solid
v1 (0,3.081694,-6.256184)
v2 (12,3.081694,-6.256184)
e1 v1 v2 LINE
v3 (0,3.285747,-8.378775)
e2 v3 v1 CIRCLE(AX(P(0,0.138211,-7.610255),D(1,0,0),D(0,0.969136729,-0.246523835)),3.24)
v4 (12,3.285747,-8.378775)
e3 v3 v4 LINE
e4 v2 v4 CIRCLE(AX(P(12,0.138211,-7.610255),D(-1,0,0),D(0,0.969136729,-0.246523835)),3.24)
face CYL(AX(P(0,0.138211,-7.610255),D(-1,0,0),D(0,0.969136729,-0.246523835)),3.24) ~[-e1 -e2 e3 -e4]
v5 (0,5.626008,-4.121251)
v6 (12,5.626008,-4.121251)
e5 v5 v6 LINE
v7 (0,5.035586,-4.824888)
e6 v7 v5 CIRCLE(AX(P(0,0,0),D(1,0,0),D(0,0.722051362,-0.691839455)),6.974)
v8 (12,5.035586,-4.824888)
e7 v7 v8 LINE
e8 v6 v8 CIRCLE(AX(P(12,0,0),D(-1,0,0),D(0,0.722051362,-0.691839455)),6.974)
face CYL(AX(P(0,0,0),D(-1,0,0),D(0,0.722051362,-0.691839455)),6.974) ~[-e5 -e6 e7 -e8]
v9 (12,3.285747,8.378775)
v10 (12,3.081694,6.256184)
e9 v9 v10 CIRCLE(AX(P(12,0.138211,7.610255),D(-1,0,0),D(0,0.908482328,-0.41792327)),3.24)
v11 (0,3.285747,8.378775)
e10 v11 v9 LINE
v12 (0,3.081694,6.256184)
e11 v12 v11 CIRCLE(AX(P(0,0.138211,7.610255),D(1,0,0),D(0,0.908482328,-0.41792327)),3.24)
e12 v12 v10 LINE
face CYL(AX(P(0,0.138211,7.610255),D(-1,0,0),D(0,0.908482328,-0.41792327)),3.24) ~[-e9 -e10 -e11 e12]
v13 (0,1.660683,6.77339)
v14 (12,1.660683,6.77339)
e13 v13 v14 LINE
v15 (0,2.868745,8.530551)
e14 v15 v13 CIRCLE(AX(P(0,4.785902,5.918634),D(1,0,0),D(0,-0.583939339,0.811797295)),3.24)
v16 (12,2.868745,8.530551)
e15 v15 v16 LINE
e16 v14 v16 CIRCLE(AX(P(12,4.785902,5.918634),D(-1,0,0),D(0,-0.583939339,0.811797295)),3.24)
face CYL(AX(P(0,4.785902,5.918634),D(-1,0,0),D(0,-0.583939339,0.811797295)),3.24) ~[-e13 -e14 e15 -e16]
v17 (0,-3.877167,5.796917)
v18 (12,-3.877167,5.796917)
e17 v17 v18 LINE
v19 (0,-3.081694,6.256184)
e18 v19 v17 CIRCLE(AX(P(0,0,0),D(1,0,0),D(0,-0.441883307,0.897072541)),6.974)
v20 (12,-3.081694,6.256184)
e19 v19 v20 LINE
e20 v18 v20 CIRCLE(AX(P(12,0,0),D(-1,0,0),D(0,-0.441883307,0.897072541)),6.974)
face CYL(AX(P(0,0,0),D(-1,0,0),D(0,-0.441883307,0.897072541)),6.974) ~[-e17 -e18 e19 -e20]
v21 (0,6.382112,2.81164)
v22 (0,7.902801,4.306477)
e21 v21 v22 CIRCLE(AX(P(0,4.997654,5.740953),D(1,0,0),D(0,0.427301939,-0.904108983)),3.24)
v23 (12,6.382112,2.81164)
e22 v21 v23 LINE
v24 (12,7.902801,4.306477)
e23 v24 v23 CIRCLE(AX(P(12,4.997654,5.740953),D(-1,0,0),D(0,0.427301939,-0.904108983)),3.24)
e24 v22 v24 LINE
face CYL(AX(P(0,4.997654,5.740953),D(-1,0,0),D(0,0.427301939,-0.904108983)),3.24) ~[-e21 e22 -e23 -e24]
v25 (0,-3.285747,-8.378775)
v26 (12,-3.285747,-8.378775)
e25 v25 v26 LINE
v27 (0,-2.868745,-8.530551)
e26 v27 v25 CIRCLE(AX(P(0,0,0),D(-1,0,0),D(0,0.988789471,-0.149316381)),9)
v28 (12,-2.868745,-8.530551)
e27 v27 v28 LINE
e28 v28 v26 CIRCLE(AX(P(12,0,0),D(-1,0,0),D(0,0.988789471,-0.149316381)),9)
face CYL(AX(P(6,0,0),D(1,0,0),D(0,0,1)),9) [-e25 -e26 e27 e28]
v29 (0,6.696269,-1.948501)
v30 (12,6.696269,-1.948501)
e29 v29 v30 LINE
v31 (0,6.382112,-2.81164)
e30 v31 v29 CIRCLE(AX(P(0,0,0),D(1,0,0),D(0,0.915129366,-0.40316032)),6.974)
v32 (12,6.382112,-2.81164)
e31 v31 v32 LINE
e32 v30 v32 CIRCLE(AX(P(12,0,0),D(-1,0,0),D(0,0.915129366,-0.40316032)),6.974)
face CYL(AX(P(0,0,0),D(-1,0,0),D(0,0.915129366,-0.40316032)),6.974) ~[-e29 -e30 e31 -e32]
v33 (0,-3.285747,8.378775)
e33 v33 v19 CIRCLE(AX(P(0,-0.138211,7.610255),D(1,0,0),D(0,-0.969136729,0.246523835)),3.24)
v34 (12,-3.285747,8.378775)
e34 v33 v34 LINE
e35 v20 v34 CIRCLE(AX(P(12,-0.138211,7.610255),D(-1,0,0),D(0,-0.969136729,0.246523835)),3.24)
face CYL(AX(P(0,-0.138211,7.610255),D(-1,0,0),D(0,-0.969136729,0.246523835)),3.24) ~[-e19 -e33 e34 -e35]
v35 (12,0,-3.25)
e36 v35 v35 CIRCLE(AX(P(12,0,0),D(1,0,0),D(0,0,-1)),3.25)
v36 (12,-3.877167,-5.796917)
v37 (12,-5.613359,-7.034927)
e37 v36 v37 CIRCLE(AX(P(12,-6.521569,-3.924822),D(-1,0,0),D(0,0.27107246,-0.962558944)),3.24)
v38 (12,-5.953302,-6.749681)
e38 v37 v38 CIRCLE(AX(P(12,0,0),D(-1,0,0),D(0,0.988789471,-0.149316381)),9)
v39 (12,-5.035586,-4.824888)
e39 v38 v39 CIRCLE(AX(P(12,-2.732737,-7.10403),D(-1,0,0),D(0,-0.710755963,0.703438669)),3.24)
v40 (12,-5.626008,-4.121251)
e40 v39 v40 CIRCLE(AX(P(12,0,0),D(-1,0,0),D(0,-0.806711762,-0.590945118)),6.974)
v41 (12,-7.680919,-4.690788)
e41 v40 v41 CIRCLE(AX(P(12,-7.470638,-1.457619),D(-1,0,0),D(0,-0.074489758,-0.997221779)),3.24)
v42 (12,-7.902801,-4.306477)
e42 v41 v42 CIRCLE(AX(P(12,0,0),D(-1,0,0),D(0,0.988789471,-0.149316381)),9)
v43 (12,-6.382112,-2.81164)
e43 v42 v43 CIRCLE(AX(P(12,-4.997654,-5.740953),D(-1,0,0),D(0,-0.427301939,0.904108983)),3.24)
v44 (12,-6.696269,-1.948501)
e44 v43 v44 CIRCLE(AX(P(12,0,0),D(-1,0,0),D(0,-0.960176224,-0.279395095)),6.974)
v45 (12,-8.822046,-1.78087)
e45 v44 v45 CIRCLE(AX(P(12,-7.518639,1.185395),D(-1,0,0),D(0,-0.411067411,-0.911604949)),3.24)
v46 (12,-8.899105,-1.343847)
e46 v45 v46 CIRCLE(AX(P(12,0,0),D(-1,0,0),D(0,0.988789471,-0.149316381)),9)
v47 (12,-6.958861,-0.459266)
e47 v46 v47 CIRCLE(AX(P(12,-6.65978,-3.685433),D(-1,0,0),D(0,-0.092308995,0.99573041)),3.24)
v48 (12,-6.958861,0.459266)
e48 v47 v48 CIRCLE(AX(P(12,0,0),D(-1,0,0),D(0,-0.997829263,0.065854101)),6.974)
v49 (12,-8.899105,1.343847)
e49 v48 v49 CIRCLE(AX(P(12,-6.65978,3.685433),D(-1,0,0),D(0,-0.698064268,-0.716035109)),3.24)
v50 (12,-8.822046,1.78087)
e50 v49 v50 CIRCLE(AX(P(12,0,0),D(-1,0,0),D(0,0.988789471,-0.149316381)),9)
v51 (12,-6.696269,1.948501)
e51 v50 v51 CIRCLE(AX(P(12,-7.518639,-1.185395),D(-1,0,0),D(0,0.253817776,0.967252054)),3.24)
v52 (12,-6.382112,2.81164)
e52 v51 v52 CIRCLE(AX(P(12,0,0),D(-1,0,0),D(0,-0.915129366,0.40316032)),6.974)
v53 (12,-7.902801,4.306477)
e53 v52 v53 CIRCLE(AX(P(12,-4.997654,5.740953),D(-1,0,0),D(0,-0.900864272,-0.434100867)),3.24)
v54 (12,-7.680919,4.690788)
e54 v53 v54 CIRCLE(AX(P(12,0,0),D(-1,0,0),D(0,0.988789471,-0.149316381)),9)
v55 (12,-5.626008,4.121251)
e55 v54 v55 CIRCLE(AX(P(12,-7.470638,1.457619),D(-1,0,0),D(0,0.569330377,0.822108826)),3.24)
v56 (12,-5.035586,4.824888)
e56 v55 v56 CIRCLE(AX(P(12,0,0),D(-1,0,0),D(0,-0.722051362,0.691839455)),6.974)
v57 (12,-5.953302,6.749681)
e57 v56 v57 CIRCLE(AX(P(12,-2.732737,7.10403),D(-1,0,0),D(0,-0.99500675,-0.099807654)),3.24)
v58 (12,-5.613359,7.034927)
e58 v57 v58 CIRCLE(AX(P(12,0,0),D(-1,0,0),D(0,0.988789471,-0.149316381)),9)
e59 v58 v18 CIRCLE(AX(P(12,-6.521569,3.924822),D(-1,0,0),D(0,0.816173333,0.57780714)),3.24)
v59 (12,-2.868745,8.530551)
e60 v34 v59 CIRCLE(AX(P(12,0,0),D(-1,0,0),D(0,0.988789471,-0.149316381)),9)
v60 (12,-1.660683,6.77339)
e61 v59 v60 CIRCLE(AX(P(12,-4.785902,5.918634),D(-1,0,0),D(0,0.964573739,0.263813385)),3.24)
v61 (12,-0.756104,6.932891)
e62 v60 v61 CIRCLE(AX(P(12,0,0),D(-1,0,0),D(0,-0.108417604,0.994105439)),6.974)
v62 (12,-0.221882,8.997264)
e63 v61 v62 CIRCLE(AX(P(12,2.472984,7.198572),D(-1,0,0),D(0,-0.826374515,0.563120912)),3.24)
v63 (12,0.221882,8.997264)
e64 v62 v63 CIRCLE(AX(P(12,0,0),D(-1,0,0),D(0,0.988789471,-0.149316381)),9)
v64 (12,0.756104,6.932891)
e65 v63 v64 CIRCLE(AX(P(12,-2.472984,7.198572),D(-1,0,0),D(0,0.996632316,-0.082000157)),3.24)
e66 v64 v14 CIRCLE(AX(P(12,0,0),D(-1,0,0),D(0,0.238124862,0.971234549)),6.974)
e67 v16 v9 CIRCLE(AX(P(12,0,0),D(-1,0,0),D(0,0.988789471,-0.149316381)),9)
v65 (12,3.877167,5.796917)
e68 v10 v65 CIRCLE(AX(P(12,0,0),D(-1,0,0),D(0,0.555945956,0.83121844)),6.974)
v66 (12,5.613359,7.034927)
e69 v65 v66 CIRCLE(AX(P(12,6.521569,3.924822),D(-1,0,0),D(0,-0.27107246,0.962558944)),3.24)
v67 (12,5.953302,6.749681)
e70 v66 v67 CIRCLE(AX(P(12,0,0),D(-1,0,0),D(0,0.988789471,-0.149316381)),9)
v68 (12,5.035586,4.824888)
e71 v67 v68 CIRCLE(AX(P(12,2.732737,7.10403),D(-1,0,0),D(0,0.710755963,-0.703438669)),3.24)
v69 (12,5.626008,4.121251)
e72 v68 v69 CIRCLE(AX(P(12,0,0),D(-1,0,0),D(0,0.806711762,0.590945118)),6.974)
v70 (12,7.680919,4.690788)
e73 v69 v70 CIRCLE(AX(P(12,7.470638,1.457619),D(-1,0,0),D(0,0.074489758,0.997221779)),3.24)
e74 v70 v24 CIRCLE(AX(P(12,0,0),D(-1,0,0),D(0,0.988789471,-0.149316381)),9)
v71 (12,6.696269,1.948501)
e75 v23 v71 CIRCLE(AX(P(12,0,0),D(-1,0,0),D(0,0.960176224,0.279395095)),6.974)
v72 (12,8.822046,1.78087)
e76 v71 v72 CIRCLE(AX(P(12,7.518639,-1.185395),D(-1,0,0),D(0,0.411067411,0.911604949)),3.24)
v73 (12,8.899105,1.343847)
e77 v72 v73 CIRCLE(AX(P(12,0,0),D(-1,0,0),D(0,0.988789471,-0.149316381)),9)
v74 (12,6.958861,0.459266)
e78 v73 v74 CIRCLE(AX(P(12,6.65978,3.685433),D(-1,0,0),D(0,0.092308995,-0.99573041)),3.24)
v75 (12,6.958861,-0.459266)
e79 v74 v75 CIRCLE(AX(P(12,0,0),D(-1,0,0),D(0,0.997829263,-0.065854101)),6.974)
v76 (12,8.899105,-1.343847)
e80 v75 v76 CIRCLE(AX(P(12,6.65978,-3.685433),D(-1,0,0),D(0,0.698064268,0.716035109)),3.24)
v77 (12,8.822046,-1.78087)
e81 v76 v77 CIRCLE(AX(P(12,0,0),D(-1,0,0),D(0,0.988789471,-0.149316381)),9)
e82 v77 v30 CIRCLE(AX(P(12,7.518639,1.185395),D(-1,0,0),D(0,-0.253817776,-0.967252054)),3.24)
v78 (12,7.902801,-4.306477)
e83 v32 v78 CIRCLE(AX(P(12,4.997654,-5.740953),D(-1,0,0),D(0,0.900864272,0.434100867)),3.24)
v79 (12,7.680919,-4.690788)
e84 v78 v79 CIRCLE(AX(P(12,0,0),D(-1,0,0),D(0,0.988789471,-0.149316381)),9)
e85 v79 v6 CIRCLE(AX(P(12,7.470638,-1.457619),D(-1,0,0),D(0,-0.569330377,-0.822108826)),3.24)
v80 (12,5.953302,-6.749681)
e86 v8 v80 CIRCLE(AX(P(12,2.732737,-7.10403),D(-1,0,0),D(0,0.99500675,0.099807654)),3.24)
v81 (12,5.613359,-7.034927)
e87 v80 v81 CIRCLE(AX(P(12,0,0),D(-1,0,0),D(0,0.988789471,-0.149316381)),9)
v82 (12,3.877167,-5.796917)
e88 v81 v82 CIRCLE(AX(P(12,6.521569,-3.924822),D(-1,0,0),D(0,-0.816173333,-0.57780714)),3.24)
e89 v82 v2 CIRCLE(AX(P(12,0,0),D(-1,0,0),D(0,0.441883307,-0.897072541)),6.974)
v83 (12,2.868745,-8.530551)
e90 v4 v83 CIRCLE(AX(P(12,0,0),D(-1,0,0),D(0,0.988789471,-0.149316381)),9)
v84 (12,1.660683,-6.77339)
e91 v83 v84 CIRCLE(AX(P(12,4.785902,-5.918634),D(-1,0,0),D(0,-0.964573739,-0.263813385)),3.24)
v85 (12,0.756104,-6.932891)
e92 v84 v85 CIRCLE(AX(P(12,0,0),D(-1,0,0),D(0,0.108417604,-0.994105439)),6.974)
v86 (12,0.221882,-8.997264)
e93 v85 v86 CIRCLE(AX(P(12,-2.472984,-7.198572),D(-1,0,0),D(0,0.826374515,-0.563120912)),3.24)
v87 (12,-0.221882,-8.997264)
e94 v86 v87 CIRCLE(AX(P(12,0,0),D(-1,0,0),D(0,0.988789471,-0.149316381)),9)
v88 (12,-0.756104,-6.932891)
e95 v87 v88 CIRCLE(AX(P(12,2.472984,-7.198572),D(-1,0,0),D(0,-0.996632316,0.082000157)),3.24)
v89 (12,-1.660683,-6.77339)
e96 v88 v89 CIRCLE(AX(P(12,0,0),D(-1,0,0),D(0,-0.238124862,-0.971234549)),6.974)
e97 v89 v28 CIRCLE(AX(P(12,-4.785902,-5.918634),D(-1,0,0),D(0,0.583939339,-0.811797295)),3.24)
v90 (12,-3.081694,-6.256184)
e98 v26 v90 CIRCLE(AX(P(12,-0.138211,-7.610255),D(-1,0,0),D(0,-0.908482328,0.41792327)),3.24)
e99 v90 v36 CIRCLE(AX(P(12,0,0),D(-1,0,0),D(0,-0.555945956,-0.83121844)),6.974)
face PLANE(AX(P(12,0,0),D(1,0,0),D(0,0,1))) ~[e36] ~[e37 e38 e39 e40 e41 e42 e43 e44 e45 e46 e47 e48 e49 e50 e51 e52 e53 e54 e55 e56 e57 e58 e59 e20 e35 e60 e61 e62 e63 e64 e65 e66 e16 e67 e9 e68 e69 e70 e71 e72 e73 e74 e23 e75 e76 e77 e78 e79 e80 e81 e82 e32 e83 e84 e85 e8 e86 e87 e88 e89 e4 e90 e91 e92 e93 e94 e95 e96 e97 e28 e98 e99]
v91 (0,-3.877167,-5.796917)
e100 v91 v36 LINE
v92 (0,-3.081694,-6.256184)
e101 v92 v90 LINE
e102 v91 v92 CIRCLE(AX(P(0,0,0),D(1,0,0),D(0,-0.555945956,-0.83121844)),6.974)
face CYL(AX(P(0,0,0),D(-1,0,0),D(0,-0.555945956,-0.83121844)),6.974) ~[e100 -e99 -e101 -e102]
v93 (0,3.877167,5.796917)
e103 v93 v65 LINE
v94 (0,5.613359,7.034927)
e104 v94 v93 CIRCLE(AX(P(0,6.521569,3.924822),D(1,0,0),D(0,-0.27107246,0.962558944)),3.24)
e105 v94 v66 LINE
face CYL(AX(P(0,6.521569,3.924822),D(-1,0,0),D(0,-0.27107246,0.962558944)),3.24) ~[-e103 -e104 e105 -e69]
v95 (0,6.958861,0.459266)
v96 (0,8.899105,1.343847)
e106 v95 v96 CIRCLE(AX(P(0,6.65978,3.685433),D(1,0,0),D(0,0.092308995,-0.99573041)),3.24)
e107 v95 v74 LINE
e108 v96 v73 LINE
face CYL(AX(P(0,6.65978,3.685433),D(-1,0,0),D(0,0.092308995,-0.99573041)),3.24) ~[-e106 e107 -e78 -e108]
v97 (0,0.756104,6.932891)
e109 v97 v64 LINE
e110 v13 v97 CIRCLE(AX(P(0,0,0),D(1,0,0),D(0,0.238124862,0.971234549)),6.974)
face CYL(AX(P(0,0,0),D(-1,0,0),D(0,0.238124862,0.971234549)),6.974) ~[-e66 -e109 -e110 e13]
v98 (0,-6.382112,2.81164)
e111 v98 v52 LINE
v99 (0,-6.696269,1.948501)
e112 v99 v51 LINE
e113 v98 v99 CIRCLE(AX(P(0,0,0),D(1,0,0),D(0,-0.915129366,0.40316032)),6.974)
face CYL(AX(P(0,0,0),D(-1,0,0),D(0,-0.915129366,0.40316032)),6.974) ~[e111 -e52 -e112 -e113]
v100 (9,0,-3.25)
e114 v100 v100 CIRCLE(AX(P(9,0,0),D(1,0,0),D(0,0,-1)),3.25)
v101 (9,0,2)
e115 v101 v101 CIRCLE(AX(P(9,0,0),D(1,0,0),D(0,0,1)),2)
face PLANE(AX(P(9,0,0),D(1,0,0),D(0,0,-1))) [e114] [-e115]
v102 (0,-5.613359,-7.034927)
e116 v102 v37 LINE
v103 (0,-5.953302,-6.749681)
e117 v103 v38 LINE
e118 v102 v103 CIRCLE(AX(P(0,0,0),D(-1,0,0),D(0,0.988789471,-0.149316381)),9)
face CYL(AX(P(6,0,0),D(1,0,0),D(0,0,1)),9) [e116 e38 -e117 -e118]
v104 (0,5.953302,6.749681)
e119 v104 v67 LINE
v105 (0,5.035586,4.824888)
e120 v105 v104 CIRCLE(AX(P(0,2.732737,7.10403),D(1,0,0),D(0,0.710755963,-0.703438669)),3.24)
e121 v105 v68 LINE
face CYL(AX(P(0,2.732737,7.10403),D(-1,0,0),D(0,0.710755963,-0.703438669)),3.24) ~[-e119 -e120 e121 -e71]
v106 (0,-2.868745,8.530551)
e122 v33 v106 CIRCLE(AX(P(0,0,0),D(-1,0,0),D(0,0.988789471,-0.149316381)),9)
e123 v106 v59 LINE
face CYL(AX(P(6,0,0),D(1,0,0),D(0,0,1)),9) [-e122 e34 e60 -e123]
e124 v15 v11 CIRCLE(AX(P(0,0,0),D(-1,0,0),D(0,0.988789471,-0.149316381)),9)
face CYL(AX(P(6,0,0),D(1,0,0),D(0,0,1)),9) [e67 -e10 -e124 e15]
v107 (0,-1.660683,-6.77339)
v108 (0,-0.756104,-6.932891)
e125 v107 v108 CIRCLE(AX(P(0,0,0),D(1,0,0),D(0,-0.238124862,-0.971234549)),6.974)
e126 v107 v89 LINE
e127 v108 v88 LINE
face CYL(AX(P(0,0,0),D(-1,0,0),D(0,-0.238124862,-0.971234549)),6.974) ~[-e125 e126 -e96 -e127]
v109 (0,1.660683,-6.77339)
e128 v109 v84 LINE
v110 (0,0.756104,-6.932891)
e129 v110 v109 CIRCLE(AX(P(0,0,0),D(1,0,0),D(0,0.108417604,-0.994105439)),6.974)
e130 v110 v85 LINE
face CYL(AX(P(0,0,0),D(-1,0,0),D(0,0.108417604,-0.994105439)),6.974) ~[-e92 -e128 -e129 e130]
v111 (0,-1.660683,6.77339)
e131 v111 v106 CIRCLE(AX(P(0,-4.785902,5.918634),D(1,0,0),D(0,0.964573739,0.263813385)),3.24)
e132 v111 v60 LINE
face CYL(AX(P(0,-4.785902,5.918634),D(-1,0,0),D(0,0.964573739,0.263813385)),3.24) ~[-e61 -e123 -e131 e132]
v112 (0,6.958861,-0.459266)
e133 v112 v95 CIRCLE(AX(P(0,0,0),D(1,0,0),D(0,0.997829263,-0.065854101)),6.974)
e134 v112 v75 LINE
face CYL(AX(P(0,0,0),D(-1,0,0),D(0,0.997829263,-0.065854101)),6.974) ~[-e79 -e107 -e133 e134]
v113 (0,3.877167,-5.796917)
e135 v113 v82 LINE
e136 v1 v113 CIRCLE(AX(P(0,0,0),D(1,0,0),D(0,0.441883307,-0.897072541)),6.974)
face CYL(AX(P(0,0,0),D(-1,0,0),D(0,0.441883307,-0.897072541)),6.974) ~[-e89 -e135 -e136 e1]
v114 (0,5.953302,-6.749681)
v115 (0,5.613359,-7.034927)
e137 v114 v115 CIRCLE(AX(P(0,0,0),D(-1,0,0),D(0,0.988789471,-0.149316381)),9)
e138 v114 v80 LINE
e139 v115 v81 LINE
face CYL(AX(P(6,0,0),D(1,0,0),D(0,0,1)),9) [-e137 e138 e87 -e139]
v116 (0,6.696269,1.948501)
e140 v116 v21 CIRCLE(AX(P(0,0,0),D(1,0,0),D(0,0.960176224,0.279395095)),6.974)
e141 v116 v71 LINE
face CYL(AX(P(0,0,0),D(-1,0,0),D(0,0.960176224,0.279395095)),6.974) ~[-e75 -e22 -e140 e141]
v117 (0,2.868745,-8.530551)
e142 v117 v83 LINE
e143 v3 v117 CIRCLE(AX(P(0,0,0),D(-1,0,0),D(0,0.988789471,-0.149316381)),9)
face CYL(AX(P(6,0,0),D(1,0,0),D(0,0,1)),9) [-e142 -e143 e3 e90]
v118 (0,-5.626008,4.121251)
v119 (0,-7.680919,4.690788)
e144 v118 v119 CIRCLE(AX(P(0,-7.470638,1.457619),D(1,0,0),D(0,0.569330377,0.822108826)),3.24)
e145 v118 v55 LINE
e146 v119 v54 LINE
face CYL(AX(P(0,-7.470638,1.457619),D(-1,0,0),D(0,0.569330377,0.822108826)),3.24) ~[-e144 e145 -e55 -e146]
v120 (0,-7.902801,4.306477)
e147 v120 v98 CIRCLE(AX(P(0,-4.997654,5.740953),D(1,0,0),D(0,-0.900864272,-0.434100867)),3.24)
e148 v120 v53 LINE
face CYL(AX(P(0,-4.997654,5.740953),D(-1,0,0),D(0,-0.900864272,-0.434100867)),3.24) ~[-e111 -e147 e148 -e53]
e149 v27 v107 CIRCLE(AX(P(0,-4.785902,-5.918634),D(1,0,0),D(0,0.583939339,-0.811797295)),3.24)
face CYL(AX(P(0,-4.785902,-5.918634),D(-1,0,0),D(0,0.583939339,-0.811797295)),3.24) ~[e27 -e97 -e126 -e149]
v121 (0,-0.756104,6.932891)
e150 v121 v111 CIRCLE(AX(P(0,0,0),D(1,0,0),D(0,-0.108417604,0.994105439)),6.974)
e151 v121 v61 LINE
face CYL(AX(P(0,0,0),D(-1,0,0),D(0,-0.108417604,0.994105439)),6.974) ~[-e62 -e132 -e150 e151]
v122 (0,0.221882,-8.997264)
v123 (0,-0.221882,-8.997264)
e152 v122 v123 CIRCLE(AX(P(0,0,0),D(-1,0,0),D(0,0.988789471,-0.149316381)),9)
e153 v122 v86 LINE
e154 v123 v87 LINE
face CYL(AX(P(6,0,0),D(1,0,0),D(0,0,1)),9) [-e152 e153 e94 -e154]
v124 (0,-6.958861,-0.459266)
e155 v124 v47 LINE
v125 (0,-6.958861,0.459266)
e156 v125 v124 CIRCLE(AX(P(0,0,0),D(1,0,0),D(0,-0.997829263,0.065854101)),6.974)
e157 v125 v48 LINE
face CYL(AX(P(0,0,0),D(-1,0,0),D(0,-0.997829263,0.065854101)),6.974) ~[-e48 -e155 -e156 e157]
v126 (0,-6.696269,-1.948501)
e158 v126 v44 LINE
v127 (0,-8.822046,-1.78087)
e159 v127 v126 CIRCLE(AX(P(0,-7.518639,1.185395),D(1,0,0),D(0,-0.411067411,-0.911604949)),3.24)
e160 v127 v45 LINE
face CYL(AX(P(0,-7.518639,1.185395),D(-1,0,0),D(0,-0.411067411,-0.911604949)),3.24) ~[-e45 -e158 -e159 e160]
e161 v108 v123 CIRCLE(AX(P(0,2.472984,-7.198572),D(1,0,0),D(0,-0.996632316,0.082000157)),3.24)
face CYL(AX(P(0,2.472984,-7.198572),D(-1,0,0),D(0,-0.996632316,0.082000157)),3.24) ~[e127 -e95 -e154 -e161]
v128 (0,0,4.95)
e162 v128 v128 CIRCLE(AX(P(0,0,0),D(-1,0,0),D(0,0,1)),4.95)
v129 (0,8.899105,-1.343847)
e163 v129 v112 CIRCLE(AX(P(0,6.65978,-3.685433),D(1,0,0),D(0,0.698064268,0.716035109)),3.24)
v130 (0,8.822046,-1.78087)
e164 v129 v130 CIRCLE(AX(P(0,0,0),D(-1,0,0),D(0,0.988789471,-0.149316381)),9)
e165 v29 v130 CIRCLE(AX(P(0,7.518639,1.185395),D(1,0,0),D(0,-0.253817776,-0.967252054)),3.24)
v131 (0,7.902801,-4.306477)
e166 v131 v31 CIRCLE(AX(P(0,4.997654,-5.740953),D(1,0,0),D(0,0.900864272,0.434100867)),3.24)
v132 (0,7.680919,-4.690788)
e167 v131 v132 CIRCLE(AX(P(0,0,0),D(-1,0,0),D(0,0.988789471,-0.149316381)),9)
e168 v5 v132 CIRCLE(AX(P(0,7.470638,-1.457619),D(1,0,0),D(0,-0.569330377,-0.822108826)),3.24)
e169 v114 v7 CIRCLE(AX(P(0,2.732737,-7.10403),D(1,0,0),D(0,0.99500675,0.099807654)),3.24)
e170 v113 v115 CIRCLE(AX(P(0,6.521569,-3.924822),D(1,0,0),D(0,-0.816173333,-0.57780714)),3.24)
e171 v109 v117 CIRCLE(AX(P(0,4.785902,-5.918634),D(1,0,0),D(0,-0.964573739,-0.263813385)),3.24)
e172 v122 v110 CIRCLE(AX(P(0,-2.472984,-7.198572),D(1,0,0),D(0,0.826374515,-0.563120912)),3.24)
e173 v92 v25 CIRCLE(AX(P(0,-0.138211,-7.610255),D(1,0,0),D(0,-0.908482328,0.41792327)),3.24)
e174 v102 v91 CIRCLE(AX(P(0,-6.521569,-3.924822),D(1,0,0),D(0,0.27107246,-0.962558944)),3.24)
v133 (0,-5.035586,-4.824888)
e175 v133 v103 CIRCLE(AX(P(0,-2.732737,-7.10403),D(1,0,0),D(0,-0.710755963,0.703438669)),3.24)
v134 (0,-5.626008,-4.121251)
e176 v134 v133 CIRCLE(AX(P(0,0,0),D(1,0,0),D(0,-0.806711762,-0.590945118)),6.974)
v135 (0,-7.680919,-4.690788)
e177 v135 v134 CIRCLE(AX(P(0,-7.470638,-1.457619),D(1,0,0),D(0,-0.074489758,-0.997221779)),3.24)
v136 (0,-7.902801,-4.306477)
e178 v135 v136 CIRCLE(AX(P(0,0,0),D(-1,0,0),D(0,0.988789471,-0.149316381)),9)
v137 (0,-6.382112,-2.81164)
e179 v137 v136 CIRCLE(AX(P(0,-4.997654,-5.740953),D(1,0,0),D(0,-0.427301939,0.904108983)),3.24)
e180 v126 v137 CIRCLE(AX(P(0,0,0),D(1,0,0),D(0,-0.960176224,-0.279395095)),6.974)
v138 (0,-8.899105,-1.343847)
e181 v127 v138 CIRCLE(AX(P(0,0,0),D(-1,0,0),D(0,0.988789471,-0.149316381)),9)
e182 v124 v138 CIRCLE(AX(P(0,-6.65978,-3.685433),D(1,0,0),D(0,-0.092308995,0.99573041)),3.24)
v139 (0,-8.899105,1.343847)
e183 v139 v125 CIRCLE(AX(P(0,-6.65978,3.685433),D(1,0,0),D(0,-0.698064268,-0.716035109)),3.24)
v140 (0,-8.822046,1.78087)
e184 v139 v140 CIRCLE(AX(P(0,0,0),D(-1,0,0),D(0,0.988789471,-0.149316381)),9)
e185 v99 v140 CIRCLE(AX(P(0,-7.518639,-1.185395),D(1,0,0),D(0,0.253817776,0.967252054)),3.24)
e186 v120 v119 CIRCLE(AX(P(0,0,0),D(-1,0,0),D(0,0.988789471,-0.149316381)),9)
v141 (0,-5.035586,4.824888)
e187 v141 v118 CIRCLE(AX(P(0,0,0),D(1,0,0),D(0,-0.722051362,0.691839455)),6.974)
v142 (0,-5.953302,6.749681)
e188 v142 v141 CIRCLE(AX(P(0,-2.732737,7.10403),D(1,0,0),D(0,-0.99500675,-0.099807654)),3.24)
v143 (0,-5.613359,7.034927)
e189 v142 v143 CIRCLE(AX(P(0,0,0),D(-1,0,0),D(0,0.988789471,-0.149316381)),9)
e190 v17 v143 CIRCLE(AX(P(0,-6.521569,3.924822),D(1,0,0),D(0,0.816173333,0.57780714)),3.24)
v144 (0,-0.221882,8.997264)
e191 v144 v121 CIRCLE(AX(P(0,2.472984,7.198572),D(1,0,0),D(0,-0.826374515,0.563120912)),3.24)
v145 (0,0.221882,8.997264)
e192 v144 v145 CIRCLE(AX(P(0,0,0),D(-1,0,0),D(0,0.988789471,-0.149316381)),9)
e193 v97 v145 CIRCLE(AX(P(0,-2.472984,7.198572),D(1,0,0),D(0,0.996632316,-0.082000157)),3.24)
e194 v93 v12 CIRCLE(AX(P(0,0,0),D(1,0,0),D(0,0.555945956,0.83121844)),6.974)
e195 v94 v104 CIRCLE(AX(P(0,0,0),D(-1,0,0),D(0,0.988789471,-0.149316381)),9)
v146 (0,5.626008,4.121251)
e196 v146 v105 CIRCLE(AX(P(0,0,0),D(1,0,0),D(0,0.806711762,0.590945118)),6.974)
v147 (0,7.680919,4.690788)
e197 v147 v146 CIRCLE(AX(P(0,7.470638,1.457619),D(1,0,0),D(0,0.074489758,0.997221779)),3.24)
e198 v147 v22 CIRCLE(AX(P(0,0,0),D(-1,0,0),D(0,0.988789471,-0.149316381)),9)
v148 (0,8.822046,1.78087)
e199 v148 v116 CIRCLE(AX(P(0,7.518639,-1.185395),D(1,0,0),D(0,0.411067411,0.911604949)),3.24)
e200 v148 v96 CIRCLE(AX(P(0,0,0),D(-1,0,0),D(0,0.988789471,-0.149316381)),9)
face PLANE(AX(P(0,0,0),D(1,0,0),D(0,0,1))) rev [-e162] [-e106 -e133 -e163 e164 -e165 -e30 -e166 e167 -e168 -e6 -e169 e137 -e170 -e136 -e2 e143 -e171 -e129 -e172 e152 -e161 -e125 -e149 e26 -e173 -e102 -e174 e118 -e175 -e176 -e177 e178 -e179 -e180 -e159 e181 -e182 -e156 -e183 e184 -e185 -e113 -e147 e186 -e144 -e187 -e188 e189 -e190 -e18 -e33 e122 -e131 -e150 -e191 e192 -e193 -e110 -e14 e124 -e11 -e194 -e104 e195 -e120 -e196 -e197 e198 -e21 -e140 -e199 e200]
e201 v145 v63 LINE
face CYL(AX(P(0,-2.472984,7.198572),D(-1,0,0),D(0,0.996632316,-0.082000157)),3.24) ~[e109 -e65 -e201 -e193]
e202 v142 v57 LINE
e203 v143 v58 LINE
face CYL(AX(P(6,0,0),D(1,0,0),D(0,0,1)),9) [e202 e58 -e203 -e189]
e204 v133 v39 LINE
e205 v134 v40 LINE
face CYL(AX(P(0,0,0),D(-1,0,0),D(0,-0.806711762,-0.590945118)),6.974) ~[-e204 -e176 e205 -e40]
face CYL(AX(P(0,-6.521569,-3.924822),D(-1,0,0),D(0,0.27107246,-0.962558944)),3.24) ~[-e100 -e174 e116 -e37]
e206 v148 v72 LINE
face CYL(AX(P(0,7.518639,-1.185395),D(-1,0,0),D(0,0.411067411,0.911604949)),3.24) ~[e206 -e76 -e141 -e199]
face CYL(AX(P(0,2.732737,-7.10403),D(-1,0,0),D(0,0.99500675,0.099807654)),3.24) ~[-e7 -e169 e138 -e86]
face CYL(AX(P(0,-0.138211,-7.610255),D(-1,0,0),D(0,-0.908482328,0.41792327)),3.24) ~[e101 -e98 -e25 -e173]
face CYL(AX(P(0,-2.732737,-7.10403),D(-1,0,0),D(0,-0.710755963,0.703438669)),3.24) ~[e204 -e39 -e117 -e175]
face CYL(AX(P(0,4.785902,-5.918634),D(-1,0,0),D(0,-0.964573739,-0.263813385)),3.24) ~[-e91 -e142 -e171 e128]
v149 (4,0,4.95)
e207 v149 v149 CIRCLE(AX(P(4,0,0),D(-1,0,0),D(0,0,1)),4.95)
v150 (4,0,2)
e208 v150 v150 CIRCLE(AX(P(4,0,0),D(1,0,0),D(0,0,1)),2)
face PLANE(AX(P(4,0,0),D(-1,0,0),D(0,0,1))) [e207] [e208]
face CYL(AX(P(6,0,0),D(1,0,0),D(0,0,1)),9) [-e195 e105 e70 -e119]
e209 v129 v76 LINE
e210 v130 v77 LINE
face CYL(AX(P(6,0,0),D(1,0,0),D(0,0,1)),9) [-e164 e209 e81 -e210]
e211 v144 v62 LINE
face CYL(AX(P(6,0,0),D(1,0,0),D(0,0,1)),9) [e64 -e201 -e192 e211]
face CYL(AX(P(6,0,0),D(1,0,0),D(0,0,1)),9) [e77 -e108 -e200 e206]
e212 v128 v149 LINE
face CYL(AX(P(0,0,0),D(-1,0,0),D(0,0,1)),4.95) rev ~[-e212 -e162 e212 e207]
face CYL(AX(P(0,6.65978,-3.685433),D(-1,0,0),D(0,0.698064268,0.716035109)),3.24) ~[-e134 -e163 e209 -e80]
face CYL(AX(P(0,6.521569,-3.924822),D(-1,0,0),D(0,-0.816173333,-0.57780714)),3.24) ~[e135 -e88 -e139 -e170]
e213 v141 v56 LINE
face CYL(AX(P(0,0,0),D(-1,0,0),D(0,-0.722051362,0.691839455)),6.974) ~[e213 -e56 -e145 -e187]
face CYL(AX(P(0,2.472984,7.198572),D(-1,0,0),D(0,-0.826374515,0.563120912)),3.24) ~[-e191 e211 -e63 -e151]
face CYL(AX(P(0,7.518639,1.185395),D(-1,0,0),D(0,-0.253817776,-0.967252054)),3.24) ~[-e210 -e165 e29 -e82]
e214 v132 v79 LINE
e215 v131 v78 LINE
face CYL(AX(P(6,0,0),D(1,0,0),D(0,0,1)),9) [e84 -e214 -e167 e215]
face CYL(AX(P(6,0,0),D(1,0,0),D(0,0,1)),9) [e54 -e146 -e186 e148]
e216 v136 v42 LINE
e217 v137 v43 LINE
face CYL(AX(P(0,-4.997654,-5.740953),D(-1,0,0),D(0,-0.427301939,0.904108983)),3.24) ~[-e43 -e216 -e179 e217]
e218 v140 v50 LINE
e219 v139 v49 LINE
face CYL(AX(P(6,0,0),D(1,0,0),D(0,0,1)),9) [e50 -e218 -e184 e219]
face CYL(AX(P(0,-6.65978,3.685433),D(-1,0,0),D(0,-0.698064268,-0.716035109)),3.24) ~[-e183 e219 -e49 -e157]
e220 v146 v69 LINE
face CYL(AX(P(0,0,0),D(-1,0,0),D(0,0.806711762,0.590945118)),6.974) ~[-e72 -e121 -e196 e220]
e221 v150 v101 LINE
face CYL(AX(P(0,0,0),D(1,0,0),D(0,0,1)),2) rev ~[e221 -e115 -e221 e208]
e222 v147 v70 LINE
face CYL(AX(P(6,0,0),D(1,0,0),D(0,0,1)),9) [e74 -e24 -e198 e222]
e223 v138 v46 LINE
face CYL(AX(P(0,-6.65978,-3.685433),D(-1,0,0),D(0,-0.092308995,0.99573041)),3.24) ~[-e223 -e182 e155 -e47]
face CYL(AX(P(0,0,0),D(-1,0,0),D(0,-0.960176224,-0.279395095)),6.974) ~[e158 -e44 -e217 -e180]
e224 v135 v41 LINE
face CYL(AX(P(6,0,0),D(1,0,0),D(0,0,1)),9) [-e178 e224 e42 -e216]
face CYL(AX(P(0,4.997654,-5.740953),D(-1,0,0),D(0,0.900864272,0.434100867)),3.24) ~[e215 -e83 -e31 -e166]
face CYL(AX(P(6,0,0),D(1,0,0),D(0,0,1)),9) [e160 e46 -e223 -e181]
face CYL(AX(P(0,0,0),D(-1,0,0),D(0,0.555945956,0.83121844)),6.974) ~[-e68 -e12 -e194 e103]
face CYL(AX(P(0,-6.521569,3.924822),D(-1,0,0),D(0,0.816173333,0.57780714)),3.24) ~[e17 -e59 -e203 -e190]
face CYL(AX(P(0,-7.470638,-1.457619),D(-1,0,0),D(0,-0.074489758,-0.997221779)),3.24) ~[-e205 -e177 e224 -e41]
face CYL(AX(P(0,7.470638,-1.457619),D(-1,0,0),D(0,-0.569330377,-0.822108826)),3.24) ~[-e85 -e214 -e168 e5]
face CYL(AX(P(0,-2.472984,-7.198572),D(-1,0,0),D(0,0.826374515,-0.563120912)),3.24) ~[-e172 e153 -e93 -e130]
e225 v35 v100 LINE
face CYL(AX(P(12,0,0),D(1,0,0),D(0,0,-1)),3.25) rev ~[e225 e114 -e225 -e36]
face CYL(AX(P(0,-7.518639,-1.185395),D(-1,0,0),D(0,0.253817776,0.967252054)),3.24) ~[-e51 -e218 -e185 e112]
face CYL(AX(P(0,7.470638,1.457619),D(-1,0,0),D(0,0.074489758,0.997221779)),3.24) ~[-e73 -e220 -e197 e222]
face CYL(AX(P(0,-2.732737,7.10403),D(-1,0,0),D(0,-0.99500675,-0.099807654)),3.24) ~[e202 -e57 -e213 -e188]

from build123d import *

# Parameters (mm, degrees)
BASPROSKE_W        = 12
BASPROSKE_H        = 9
TOOTHCUT_DEPTH     = 18.492855685
TEETHCUTS_COUNT    = 18
TEETHCUTS_ANGLE    = 340
BORSKE_R           = 2
BORE_DEPTH         = 50.0000508
SKETCH2_R          = 3.25
CUT_EXTRUDE1_DEPTH = 3
SKETCH3_R          = 4.95
CUT_EXTRUDE2_DEPTH = 4


with BuildPart() as part:
    # BasProSke → Base-Revolve (revolve)
    with BuildSketch(Plane(origin=(0, 0, 0), x_dir=(1, 0, 0), z_dir=(0, 1, 0)), mode=Mode.PRIVATE) as base_revolve_sk:
        with Locations((6, 4.5)):
            Rectangle(BASPROSKE_W, BASPROSKE_H)
    revolve(base_revolve_sk.sketch.rotate(Axis((-10, 0, 0), (1, 0, 0)), 180), axis=Axis((-10, 0, 0), (1, 0, 0)))

    # TooCutSke → ToothCut (cut, through all)
    with BuildSketch(Plane(origin=(0, 0, 0), x_dir=(0, 0, -1), z_dir=(1, 0, 0))):
        with BuildLine():
            ThreePointArc((0.45926649, 6.958861278), (0, 6.974), (-0.45926649, 6.958861278))
            ThreePointArc((-0.45926649, 6.958861278), (-0.743858876, 8.01799277), (-1.365479267, 8.921508366))
            ThreePointArc((-1.365479267, 8.921508366), (0, 9.0254), (1.365479267, 8.921508366))
            ThreePointArc((1.365479267, 8.921508366), (0.743858876, 8.01799277), (0.45926649, 6.958861278))
        make_face()
    toothcut = extrude(amount=TOOTHCUT_DEPTH, mode=Mode.SUBTRACT)

    # TeethCuts: ToothCut ×18 about axis
    teethcuts_axis = Axis((-10, 0, 0), (1, 0, 0))
    for i in range(1, TEETHCUTS_COUNT):
        add(toothcut.rotate(teethcuts_axis, i * TEETHCUTS_ANGLE / (TEETHCUTS_COUNT - 1)), mode=Mode.SUBTRACT)

    # BorSke → Bore (cut, symmetric)
    with BuildSketch(Plane(origin=(0, 0, 0), x_dir=(0, 0, -1), z_dir=(1, 0, 0))):
        with Locations(Location((0, 0, 0), (0, 0, 180))):
            Circle(BORSKE_R)
    extrude(amount=BORE_DEPTH, both=True, mode=Mode.SUBTRACT)

    # Sketch2 → Cut-Extrude1 (cut)
    with BuildSketch(Plane(origin=(12, 0, 0), x_dir=(0, 0, -1), z_dir=(1, 0, 0))):
        Circle(SKETCH2_R)
    extrude(amount=-CUT_EXTRUDE1_DEPTH, mode=Mode.SUBTRACT)

    # Sketch3 → Cut-Extrude2 (cut)
    with BuildSketch(Plane.ZY):
        Circle(SKETCH3_R)
    extrude(amount=-CUT_EXTRUDE2_DEPTH, mode=Mode.SUBTRACT)


solid = part.part
